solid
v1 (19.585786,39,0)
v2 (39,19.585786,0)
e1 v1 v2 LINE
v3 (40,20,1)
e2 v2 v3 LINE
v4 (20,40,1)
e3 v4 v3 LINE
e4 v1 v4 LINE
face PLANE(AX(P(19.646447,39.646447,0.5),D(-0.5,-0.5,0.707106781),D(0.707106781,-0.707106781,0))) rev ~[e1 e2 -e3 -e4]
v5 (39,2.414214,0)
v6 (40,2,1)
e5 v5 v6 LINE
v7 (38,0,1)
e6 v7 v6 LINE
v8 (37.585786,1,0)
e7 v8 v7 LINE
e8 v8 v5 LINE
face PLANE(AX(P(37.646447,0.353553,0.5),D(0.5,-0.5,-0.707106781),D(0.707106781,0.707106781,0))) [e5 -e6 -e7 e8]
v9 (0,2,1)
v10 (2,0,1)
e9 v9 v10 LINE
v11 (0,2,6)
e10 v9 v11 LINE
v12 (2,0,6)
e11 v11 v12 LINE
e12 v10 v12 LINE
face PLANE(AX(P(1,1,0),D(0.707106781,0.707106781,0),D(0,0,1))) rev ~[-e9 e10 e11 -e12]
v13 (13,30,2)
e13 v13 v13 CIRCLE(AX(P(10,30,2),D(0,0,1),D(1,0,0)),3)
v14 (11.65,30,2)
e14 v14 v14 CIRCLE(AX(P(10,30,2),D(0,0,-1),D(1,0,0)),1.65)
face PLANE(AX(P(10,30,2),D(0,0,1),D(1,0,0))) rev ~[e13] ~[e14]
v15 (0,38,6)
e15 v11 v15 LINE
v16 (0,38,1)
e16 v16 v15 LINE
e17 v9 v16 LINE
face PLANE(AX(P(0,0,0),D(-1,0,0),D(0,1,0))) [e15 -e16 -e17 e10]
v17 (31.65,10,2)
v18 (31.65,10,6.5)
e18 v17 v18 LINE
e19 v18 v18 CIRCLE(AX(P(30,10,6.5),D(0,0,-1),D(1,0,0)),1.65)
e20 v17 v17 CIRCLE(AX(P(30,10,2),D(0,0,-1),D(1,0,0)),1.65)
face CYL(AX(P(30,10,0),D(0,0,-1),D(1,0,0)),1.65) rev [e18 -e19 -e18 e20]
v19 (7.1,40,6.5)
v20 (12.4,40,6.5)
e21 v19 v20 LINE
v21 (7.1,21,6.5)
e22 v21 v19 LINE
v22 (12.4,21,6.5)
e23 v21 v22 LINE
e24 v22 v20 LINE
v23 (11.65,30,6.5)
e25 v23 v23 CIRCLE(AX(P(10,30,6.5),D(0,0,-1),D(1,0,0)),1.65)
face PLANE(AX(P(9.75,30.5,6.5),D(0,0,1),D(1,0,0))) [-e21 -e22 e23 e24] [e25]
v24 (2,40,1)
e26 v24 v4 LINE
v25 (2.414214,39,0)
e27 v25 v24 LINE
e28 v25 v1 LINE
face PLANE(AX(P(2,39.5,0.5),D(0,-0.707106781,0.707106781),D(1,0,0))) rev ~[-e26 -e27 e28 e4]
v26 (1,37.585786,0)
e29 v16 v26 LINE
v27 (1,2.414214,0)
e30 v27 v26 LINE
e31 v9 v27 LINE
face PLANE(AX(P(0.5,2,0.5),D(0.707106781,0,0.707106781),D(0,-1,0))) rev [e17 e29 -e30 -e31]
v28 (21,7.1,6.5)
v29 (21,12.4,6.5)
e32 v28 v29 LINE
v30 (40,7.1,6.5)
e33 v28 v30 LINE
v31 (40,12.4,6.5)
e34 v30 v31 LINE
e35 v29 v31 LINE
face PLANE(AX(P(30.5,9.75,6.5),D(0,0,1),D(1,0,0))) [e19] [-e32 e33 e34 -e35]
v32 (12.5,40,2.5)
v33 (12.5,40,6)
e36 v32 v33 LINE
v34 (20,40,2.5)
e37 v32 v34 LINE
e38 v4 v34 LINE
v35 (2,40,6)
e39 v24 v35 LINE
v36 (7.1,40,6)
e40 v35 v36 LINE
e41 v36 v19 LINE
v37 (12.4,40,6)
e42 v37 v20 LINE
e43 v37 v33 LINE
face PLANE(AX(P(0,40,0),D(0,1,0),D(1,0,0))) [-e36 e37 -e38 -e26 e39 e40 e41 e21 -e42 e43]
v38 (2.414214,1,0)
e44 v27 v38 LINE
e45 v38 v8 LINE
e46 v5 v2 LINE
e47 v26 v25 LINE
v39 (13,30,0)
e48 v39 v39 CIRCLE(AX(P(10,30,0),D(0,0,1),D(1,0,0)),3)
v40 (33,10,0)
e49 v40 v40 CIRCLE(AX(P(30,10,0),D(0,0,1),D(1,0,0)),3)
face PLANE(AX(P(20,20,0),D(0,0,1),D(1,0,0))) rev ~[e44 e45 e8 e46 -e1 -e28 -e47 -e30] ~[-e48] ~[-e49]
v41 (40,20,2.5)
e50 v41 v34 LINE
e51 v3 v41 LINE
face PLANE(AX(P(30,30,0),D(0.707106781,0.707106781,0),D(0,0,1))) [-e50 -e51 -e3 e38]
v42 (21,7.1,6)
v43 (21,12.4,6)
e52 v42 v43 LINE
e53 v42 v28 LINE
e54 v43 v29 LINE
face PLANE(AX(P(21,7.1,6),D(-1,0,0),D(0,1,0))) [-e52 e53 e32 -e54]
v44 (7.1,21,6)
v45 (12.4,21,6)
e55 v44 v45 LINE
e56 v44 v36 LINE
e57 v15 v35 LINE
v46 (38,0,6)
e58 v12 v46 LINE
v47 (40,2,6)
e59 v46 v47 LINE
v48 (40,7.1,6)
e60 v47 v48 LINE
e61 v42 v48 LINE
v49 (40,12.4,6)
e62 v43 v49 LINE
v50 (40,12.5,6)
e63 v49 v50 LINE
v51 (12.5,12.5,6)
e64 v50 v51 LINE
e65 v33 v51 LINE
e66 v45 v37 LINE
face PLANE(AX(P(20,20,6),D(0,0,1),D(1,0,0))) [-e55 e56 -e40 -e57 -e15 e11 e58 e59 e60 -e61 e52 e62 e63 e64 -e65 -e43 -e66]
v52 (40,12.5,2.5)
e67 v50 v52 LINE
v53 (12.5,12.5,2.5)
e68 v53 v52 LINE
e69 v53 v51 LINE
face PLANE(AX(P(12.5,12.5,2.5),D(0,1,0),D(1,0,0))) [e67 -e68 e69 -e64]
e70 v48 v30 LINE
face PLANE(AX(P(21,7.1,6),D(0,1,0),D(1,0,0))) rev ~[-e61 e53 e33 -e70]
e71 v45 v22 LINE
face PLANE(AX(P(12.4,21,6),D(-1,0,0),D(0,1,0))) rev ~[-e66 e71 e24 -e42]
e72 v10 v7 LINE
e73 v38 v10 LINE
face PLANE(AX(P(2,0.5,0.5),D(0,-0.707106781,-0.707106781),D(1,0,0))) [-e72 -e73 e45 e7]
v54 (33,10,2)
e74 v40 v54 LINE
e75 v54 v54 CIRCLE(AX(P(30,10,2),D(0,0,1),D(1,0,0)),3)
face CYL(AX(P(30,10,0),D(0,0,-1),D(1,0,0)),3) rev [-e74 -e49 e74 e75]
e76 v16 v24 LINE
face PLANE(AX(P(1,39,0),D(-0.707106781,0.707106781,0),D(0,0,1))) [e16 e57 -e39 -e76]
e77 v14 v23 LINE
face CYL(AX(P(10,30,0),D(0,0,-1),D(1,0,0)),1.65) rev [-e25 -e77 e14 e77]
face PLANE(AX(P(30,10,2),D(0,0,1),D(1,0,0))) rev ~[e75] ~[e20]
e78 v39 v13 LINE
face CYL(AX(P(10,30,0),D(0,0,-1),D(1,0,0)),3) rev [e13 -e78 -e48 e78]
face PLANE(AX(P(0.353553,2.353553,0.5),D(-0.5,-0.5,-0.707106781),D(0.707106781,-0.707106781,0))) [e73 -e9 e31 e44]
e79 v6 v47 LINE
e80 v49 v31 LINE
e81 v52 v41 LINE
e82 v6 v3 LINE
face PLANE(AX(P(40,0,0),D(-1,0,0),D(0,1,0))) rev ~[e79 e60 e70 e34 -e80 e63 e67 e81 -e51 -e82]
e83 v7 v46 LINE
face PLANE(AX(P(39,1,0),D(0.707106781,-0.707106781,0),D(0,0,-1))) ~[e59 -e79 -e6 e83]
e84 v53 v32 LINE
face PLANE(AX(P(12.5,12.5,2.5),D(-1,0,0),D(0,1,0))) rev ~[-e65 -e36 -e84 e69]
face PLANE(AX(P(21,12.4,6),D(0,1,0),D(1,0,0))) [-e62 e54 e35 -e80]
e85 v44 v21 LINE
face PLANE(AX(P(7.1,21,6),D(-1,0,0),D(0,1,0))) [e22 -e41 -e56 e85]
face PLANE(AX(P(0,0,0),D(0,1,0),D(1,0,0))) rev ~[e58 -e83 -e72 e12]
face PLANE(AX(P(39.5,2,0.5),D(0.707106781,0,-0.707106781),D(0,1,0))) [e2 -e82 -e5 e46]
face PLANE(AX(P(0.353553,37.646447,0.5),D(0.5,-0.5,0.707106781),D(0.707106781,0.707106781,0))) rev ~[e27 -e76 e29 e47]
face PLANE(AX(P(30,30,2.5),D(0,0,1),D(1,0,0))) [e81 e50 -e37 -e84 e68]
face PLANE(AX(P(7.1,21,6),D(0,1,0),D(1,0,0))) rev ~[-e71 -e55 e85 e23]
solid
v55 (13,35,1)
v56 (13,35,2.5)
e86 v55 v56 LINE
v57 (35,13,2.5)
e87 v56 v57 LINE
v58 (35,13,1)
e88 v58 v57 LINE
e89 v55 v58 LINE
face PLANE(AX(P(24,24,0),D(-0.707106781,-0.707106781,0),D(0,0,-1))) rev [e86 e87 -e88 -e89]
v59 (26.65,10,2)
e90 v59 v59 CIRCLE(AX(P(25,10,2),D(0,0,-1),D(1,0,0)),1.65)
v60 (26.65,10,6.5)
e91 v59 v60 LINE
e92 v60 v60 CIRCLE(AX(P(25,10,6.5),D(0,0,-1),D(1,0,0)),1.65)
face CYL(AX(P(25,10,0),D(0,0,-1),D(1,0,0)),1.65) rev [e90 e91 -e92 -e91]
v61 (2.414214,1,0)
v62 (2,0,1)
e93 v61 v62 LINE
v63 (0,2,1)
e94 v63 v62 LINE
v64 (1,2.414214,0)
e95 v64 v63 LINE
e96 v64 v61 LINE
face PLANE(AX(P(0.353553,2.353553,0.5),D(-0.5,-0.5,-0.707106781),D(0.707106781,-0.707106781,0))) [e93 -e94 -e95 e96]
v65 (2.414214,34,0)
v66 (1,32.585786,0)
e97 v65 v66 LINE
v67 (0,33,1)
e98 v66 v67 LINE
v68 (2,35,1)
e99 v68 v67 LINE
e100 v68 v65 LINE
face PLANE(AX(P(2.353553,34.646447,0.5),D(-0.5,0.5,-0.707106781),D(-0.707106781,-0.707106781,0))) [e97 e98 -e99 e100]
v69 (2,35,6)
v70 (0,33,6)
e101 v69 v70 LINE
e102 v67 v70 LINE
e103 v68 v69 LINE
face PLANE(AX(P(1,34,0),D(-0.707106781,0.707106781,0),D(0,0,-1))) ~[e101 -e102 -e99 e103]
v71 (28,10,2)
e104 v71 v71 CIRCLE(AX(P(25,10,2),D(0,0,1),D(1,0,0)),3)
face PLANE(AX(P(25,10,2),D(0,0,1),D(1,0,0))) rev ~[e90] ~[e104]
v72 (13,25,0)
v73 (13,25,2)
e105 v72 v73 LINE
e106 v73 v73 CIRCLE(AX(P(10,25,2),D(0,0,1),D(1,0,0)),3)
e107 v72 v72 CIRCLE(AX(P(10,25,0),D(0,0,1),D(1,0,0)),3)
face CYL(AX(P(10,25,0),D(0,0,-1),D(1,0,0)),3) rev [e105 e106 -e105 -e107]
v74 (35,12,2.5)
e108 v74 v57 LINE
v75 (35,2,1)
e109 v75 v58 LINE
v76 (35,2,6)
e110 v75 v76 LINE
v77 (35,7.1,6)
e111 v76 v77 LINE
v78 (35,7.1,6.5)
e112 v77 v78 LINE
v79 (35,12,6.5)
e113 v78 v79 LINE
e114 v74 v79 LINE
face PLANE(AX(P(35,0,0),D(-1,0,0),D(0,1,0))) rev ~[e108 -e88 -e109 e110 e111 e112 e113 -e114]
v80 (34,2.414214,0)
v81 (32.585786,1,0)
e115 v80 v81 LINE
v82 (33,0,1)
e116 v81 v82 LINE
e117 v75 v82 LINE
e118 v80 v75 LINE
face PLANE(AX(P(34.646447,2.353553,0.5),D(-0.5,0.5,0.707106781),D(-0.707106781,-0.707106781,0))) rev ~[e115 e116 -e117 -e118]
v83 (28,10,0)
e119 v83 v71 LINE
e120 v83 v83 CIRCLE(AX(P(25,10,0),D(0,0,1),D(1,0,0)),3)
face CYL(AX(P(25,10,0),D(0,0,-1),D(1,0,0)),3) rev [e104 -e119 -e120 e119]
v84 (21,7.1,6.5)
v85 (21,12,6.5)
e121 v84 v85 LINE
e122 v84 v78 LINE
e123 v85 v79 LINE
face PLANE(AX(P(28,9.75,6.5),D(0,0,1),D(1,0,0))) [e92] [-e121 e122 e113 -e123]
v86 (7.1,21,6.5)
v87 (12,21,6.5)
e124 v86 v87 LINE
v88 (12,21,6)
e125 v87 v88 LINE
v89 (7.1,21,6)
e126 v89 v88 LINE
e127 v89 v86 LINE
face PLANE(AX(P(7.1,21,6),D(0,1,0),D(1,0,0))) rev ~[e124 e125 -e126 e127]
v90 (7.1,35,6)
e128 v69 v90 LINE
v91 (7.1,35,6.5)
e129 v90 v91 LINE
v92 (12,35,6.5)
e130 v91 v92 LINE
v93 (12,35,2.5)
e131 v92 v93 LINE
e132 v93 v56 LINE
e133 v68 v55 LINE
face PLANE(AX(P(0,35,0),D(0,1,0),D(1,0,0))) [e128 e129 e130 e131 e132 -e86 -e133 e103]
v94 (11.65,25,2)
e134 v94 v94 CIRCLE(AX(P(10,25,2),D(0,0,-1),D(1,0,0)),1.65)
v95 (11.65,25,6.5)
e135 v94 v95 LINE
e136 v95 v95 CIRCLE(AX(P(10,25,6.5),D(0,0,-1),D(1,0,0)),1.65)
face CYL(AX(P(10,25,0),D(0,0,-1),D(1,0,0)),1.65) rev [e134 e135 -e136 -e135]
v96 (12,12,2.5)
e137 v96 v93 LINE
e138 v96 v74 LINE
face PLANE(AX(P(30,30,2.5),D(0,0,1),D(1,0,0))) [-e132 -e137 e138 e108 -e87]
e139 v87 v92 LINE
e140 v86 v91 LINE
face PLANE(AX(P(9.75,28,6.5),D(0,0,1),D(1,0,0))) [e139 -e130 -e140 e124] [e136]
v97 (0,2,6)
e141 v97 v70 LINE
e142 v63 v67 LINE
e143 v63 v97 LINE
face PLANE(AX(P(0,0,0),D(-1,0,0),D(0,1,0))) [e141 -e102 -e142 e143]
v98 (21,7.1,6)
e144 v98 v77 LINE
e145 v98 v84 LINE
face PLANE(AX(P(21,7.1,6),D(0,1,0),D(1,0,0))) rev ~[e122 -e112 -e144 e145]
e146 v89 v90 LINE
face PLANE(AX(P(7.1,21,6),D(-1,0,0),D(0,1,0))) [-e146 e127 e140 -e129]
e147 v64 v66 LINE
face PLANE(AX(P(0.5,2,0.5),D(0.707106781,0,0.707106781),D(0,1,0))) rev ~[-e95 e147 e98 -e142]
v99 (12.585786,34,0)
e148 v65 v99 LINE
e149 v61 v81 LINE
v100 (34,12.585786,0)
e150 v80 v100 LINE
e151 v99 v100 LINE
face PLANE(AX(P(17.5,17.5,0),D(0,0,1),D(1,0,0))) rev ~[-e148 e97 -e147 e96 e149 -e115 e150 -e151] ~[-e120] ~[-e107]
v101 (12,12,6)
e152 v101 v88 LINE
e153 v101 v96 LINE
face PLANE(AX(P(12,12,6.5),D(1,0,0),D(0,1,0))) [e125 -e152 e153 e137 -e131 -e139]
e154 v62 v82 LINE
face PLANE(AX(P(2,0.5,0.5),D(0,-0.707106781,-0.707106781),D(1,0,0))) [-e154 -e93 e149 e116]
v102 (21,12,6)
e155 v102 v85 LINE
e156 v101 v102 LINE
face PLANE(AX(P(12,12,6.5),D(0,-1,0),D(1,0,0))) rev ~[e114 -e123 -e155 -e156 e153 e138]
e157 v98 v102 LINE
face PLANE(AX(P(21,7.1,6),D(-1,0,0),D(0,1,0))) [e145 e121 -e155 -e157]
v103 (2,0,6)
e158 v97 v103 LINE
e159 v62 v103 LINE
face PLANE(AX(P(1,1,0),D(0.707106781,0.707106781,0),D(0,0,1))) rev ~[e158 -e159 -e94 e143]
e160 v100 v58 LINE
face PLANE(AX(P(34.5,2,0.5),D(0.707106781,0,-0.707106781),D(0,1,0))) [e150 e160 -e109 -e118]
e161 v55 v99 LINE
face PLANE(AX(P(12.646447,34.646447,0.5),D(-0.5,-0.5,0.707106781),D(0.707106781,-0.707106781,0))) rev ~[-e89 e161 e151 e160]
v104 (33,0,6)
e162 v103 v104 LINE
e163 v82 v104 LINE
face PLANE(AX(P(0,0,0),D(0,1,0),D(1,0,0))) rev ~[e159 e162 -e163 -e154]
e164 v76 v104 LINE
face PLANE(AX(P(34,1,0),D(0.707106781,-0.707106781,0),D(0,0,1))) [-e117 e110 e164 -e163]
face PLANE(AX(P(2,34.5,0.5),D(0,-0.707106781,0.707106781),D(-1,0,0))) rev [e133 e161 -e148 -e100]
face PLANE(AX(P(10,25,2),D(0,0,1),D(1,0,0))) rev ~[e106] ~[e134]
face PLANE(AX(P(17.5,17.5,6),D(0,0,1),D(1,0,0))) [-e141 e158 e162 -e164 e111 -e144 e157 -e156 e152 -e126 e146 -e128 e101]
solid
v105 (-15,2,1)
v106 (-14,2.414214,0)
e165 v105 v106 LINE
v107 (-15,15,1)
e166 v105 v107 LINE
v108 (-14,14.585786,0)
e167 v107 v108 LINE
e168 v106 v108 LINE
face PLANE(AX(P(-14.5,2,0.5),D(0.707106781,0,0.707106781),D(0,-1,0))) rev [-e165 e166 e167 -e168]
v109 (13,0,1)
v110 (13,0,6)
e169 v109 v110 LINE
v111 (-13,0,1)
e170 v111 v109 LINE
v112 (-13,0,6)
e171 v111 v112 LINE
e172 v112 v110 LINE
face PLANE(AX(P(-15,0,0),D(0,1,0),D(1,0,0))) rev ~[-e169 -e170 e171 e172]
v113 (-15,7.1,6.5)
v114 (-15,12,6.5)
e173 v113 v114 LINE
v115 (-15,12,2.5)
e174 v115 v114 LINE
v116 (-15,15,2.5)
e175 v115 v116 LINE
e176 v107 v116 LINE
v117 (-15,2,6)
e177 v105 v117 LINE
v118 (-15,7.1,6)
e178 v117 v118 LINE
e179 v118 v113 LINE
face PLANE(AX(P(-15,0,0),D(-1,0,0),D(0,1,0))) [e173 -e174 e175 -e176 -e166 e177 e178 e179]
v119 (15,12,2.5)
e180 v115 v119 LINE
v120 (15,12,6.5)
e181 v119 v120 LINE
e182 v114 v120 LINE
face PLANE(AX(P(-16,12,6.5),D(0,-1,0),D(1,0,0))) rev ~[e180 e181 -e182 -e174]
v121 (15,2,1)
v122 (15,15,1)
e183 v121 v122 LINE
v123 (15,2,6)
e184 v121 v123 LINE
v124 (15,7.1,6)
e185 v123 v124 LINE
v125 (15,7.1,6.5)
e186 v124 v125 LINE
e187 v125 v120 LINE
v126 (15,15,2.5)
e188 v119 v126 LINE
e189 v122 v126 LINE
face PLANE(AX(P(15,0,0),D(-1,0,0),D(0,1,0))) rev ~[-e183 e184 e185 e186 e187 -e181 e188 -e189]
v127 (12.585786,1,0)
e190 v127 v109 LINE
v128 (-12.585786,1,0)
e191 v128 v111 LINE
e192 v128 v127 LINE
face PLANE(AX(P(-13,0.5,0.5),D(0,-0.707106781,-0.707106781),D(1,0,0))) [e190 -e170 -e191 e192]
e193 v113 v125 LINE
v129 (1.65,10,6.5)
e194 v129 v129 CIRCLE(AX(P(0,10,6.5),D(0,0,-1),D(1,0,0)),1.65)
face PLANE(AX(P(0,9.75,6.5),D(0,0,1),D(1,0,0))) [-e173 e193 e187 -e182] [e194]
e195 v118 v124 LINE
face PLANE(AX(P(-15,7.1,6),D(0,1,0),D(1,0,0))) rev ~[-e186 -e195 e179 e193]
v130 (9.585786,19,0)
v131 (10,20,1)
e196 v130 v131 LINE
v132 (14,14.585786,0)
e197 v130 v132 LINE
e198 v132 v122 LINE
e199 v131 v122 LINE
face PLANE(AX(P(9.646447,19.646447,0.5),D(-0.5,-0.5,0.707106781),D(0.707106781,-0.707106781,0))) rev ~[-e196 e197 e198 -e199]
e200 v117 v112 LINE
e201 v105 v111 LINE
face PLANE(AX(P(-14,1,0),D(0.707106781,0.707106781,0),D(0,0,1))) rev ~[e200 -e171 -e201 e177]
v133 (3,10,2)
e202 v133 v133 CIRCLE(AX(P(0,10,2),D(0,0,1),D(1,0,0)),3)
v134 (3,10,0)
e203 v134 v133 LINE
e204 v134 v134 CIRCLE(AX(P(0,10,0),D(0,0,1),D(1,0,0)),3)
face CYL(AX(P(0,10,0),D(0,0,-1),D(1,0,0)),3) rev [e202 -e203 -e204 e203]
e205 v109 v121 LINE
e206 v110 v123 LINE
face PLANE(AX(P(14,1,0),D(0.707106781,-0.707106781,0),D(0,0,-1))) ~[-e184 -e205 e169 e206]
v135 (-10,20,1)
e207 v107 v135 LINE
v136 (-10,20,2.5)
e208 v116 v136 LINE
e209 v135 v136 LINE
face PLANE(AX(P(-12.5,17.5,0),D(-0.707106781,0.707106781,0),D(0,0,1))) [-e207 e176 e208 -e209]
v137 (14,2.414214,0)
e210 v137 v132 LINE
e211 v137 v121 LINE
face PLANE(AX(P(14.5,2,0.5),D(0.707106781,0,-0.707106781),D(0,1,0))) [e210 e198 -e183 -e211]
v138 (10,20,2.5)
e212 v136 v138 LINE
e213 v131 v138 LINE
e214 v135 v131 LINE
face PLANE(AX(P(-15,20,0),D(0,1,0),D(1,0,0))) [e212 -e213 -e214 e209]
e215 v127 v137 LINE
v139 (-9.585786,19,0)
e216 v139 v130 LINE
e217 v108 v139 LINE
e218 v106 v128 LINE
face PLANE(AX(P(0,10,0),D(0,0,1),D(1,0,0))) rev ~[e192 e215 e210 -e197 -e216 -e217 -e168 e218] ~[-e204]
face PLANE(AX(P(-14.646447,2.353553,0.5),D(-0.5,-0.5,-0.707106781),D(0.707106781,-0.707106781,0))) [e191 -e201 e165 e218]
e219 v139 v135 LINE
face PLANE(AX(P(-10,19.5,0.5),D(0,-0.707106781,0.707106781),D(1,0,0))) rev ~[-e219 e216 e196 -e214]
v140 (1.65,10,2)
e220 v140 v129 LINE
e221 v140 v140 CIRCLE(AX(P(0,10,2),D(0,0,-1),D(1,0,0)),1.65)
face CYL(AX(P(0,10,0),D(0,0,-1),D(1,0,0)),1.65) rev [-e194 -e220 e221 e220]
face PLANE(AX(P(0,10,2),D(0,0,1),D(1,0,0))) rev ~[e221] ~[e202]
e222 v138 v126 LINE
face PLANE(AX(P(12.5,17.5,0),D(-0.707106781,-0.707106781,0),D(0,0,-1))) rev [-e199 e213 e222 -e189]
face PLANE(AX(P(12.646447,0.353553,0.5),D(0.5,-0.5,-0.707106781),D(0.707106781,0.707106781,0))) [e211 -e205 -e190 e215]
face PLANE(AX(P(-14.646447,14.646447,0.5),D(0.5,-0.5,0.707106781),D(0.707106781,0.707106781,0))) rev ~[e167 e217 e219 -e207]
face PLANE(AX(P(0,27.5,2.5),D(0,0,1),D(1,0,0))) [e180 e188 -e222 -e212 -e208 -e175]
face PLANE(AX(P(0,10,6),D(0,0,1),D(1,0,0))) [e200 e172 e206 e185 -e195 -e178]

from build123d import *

# Parameters (mm, degrees)
CYLINDER009_R     = 1.65
CYLINDER009_DEPTH = 10
CYLINDER008_R     = 3
CYLINDER008_DEPTH = 2
CYLINDER006_R     = 3
CYLINDER006_DEPTH = 2
CYLINDER007_R     = 1.65
CYLINDER007_DEPTH = 10
BOX011_W          = 30
BOX011_H          = 31
BOX011_DEPTH      = 10
CHAMFER010_SIZE   = 20
BOX007_W          = 35
BOX007_H          = 35
BOX007_DEPTH      = 6
BOX009_W          = 40
BOX009_H          = 40
BOX009_DEPTH      = 6
CHAMFER011_SIZE   = 2
CHAMFER012_SIZE   = 1
BOX008_W          = 19
BOX008_H          = 5.3
BOX008_DEPTH      = 0.5
BOX010_W          = 5.3
BOX010_H          = 19
BOX010_DEPTH      = 0.5
CYLINDER002_R     = 1.65
CYLINDER002_DEPTH = 10
CYLINDER003_R     = 1.65
CYLINDER003_DEPTH = 10
CYLINDER_R        = 3
CYLINDER_DEPTH    = 2
CYLINDER001_R     = 3
CYLINDER001_DEPTH = 2
BOX003_W          = 5.3
BOX003_H          = 14
BOX003_DEPTH      = 0.5
BOX002_W          = 14
BOX002_H          = 5.3
BOX002_DEPTH      = 0.5
BOX001_W          = 35
BOX001_H          = 35
BOX001_DEPTH      = 6
BOX_W             = 35
BOX_H             = 35
BOX_DEPTH         = 6
CHAMFER_SIZE      = 22
CHAMFER001_SIZE   = 2
CHAMFER006_SIZE   = 1
SKETCH_W          = 24
SKETCH_H          = 25
POCKET_DEPTH      = 4
CYLINDER004_R     = 1.65
CYLINDER004_DEPTH = 10
CYLINDER005_R     = 3
CYLINDER005_DEPTH = 2
BOX006_W          = 30
BOX006_H          = 5.3
BOX006_DEPTH      = 0.5
BOX005_W          = 40
BOX005_H          = 30
BOX005_DEPTH      = 6
BOX004_W          = 30
BOX004_H          = 20
BOX004_DEPTH      = 6
CHAMFER007_SIZE   = 5
CHAMFER008_SIZE   = 2
CHAMFER009_SIZE   = 1
SKETCH001_W       = 32
SKETCH001_H       = 9
POCKET001_DEPTH   = 4


with BuildPart() as cylinder009:
    # Cylinder009 → Cylinder009 (new body)
    with BuildSketch(Plane(origin=(25, 10, 0), x_dir=(1, 0, 0), z_dir=(0, 0, 1))):
        Circle(CYLINDER009_R)
    extrude(amount=CYLINDER009_DEPTH)


with BuildPart() as fusion008:
    # Cylinder008 → Cylinder008 (new body)
    with BuildSketch(Plane(origin=(25, 10, 0), x_dir=(1, 0, 0), z_dir=(0, 0, 1))):
        Circle(CYLINDER008_R)
    extrude(amount=CYLINDER008_DEPTH)

    # Fusion008: union Cylinder009
    add(cylinder009.part)


with BuildPart() as fusion008_1:
    # Fusion008 placement: moved
    add(fusion008.part.moved(Location((5, 0, 0))))


with BuildPart() as cylinder006:
    # Cylinder006 → Cylinder006 (new body)
    with BuildSketch(Plane(origin=(10, 25, 0), x_dir=(1, 0, 0), z_dir=(0, 0, 1))):
        Circle(CYLINDER006_R)
    extrude(amount=CYLINDER006_DEPTH)


with BuildPart() as fusion011:
    # Cylinder007 → Cylinder007 (new body)
    with BuildSketch(Plane(origin=(10, 25, 0), x_dir=(1, 0, 0), z_dir=(0, 0, 1))):
        Circle(CYLINDER007_R)
    extrude(amount=CYLINDER007_DEPTH)

    # Fusion009: union Cylinder006
    add(cylinder006.part)


with BuildPart() as fusion011_1:
    # Fusion009 placement: moved
    add(fusion011.part.moved(Location((0, 5, 0))))

    # Fusion011: union Fusion008
    add(fusion008_1.part)


with BuildPart() as chamfer010:
    # Box011 → Box011 (new body)
    with BuildSketch(Plane(origin=(20, 20, 0), x_dir=(1, 0, 0), z_dir=(0, 0, 1))):
        with Locations((15, 15.5)):
            Rectangle(BOX011_W, BOX011_H)
    extrude(amount=BOX011_DEPTH)

    # Chamfer010
    chamfer010_edges = [chamfer010.edges().sort_by_distance(p)[0] for p in [
        (20, 20, 5),
    ]]
    chamfer(chamfer010_edges, length=CHAMFER010_SIZE)


with BuildPart() as cube007:
    # Box007 → Box007 (new body)
    with BuildSketch(Plane(origin=(12.5, 12.5, 2.5), x_dir=(1, 0, 0), z_dir=(0, 0, 1))):
        with Locations((17.5, 17.5)):
            Rectangle(BOX007_W, BOX007_H)
    extrude(amount=BOX007_DEPTH)


with BuildPart() as chamfer012:
    # Box009 → Box009 (new body)
    with BuildSketch(Plane.XY):
        with Locations((20, 20)):
            Rectangle(BOX009_W, BOX009_H)
    extrude(amount=BOX009_DEPTH)

    # Cut007: cut Cube007
    add(cube007.part, mode=Mode.SUBTRACT)

    # Cut008: cut Chamfer010
    add(chamfer010.part, mode=Mode.SUBTRACT)

    # Chamfer011
    chamfer011_edges = [chamfer012.edges().sort_by_distance(p)[0] for p in [
        (0, 0, 3),
        (0, 40, 3),
        (40, 0, 3),
    ]]
    chamfer(chamfer011_edges, length=CHAMFER011_SIZE)

    # Chamfer012
    chamfer012_edges = [chamfer012.edges().sort_by_distance(p)[0] for p in [
        (0, 20, 0),
        (1, 1, 0),
        (1, 39, 0),
        (11, 40, 0),
        (20, 0, 0),
        (39, 1, 0),
        (40, 11, 0),
        (30, 30, 0),
    ]]
    chamfer(chamfer012_edges, length=CHAMFER012_SIZE)


with BuildPart() as cube008:
    # Box008 → Box008 (new body)
    with BuildSketch(Plane(origin=(21, 7.1, 6), x_dir=(1, 0, 0), z_dir=(0, 0, 1))):
        with Locations((9.5, 2.65)):
            Rectangle(BOX008_W, BOX008_H)
    extrude(amount=BOX008_DEPTH)


with BuildPart() as cut009:
    # Box010 → Box010 (new body)
    with BuildSketch(Plane(origin=(7.1, 21, 6), x_dir=(1, 0, 0), z_dir=(0, 0, 1))):
        with Locations((2.65, 9.5)):
            Rectangle(BOX010_W, BOX010_H)
    extrude(amount=BOX010_DEPTH)

    # Fusion007: union Cube008
    add(cube008.part)

    # Fusion010: union Chamfer012
    add(chamfer012.part)

    # Cut009: cut Fusion011
    add(fusion011_1.part, mode=Mode.SUBTRACT)


with BuildPart() as cylinder002:
    # Cylinder002 → Cylinder002 (new body)
    with BuildSketch(Plane(origin=(10, 25, 0), x_dir=(1, 0, 0), z_dir=(0, 0, 1))):
        Circle(CYLINDER002_R)
    extrude(amount=CYLINDER002_DEPTH)


with BuildPart() as fusion001:
    # Cylinder003 → Cylinder003 (new body)
    with BuildSketch(Plane(origin=(25, 10, 0), x_dir=(1, 0, 0), z_dir=(0, 0, 1))):
        Circle(CYLINDER003_R)
    extrude(amount=CYLINDER003_DEPTH)

    # Fusion001: union Cylinder002
    add(cylinder002.part)


with BuildPart() as cylinder:
    # Cylinder → Cylinder (new body)
    with BuildSketch(Plane(origin=(25, 10, 0), x_dir=(1, 0, 0), z_dir=(0, 0, 1))):
        Circle(CYLINDER_R)
    extrude(amount=CYLINDER_DEPTH)


with BuildPart() as fusion003:
    # Cylinder001 → Cylinder001 (new body)
    with BuildSketch(Plane(origin=(10, 25, 0), x_dir=(1, 0, 0), z_dir=(0, 0, 1))):
        Circle(CYLINDER001_R)
    extrude(amount=CYLINDER001_DEPTH)

    # Fusion002: union Cylinder
    add(cylinder.part)

    # Fusion003: union Fusion001
    add(fusion001.part)


with BuildPart() as cube003:
    # Box003 → Box003 (new body)
    with BuildSketch(Plane(origin=(7.1, 21, 6), x_dir=(1, 0, 0), z_dir=(0, 0, 1))):
        with Locations((2.65, 7)):
            Rectangle(BOX003_W, BOX003_H)
    extrude(amount=BOX003_DEPTH)


with BuildPart() as cube002:
    # Box002 → Box002 (new body)
    with BuildSketch(Plane(origin=(21, 7.1, 6), x_dir=(1, 0, 0), z_dir=(0, 0, 1))):
        with Locations((7, 2.65)):
            Rectangle(BOX002_W, BOX002_H)
    extrude(amount=BOX002_DEPTH)


with BuildPart() as cube001:
    # Box001 → Box001 (new body)
    with BuildSketch(Plane(origin=(12.5, 12.5, 2.5), x_dir=(1, 0, 0), z_dir=(0, 0, 1))):
        with Locations((17.5, 17.5)):
            Rectangle(BOX001_W, BOX001_H)
    extrude(amount=BOX001_DEPTH)


with BuildPart() as body:
    # Box → Box (new body)
    with BuildSketch(Plane.XY):
        with Locations((17.5, 17.5)):
            Rectangle(BOX_W, BOX_H)
    extrude(amount=BOX_DEPTH)

    # Cut: cut Cube001
    add(cube001.part, mode=Mode.SUBTRACT)

    # Chamfer
    chamfer_edges = [body.edges().sort_by_distance(p)[0] for p in [
        (35, 35, 1.25),
    ]]
    chamfer(chamfer_edges, length=CHAMFER_SIZE)

    # Chamfer001
    chamfer001_edges = [body.edges().sort_by_distance(p)[0] for p in [
        (0, 35, 3),
        (0, 0, 3),
        (35, 0, 3),
    ]]
    chamfer(chamfer001_edges, length=CHAMFER001_SIZE)

    # Chamfer006
    chamfer006_edges = [body.edges().sort_by_distance(p)[0] for p in [
        (7.5, 35, 0),
        (1, 34, 0),
        (0, 17.5, 0),
        (1, 1, 0),
        (17.5, 0, 0),
        (34, 1, 0),
        (35, 7.5, 0),
        (24, 24, 0),
    ]]
    chamfer(chamfer006_edges, length=CHAMFER006_SIZE)

    # Fusion: union Cube003, Cube002
    add(cube003.part)
    add(cube002.part)

    # Cut004: cut Fusion003
    add(fusion003.part, mode=Mode.SUBTRACT)

    # Sketch (on Face22 of BaseFeature) → Pocket (cut)
    with BuildSketch(Plane.XY.offset(6.5)):
        with Locations((24, 24.5)):
            Rectangle(SKETCH_W, SKETCH_H)
    extrude(amount=-POCKET_DEPTH, mode=Mode.SUBTRACT)


with BuildPart() as cylinder004:
    # Cylinder004 → Cylinder004 (new body)
    with BuildSketch(Plane(origin=(0, 10, 0), x_dir=(1, 0, 0), z_dir=(0, 0, 1))):
        Circle(CYLINDER004_R)
    extrude(amount=CYLINDER004_DEPTH)


with BuildPart() as fusion005:
    # Cylinder005 → Cylinder005 (new body)
    with BuildSketch(Plane(origin=(0, 10, 0), x_dir=(1, 0, 0), z_dir=(0, 0, 1))):
        Circle(CYLINDER005_R)
    extrude(amount=CYLINDER005_DEPTH)

    # Fusion005: union Cylinder004
    add(cylinder004.part)


with BuildPart() as cube006:
    # Box006 → Box006 (new body)
    with BuildSketch(Plane(origin=(-15, 7.1, 6), x_dir=(1, 0, 0), z_dir=(0, 0, 1))):
        with Locations((15, 2.65)):
            Rectangle(BOX006_W, BOX006_H)
    extrude(amount=BOX006_DEPTH)


with BuildPart() as cube005:
    # Box005 → Box005 (new body)
    with BuildSketch(Plane(origin=(-20, 12.5, 2.5), x_dir=(1, 0, 0), z_dir=(0, 0, 1))):
        with Locations((20, 15)):
            Rectangle(BOX005_W, BOX005_H)
    extrude(amount=BOX005_DEPTH)


with BuildPart() as body001:
    # Box004 → Box004 (new body)
    with BuildSketch(Plane(origin=(-15, 0, 0), x_dir=(1, 0, 0), z_dir=(0, 0, 1))):
        with Locations((15, 10)):
            Rectangle(BOX004_W, BOX004_H)
    extrude(amount=BOX004_DEPTH)

    # Cut005: cut Cube005
    add(cube005.part, mode=Mode.SUBTRACT)

    # Fusion006: union Cube006
    add(cube006.part)

    # Chamfer007
    chamfer007_edges = [body001.edges().sort_by_distance(p)[0] for p in [
        (-15, 20, 1.25),
        (15, 20, 1.25),
    ]]
    chamfer(chamfer007_edges, length=CHAMFER007_SIZE)

    # Chamfer008
    chamfer008_edges = [body001.edges().sort_by_distance(p)[0] for p in [
        (-15, 0, 3),
        (15, 0, 3),
    ]]
    chamfer(chamfer008_edges, length=CHAMFER008_SIZE)

    # Chamfer009
    chamfer009_edges = [body001.edges().sort_by_distance(p)[0] for p in [
        (-15, 8.5, 0),
        (-14, 1, 0),
        (0, 0, 0),
        (14, 1, 0),
        (15, 8.5, 0),
        (12.5, 17.5, 0),
        (0, 20, 0),
        (-12.5, 17.5, 0),
    ]]
    chamfer(chamfer009_edges, length=CHAMFER009_SIZE)

    # Cut006: cut Fusion005
    add(fusion005.part, mode=Mode.SUBTRACT)

    # Sketch001 (on Face19 of BaseFeature001) → Pocket001 (cut)
    with BuildSketch(Plane.XY.offset(6.5)):
        with Locations((0, 16.5)):
            Rectangle(SKETCH001_W, SKETCH001_H)
    extrude(amount=-POCKET001_DEPTH, mode=Mode.SUBTRACT)


solid = Compound([cut009.part, body.part, body001.part])
